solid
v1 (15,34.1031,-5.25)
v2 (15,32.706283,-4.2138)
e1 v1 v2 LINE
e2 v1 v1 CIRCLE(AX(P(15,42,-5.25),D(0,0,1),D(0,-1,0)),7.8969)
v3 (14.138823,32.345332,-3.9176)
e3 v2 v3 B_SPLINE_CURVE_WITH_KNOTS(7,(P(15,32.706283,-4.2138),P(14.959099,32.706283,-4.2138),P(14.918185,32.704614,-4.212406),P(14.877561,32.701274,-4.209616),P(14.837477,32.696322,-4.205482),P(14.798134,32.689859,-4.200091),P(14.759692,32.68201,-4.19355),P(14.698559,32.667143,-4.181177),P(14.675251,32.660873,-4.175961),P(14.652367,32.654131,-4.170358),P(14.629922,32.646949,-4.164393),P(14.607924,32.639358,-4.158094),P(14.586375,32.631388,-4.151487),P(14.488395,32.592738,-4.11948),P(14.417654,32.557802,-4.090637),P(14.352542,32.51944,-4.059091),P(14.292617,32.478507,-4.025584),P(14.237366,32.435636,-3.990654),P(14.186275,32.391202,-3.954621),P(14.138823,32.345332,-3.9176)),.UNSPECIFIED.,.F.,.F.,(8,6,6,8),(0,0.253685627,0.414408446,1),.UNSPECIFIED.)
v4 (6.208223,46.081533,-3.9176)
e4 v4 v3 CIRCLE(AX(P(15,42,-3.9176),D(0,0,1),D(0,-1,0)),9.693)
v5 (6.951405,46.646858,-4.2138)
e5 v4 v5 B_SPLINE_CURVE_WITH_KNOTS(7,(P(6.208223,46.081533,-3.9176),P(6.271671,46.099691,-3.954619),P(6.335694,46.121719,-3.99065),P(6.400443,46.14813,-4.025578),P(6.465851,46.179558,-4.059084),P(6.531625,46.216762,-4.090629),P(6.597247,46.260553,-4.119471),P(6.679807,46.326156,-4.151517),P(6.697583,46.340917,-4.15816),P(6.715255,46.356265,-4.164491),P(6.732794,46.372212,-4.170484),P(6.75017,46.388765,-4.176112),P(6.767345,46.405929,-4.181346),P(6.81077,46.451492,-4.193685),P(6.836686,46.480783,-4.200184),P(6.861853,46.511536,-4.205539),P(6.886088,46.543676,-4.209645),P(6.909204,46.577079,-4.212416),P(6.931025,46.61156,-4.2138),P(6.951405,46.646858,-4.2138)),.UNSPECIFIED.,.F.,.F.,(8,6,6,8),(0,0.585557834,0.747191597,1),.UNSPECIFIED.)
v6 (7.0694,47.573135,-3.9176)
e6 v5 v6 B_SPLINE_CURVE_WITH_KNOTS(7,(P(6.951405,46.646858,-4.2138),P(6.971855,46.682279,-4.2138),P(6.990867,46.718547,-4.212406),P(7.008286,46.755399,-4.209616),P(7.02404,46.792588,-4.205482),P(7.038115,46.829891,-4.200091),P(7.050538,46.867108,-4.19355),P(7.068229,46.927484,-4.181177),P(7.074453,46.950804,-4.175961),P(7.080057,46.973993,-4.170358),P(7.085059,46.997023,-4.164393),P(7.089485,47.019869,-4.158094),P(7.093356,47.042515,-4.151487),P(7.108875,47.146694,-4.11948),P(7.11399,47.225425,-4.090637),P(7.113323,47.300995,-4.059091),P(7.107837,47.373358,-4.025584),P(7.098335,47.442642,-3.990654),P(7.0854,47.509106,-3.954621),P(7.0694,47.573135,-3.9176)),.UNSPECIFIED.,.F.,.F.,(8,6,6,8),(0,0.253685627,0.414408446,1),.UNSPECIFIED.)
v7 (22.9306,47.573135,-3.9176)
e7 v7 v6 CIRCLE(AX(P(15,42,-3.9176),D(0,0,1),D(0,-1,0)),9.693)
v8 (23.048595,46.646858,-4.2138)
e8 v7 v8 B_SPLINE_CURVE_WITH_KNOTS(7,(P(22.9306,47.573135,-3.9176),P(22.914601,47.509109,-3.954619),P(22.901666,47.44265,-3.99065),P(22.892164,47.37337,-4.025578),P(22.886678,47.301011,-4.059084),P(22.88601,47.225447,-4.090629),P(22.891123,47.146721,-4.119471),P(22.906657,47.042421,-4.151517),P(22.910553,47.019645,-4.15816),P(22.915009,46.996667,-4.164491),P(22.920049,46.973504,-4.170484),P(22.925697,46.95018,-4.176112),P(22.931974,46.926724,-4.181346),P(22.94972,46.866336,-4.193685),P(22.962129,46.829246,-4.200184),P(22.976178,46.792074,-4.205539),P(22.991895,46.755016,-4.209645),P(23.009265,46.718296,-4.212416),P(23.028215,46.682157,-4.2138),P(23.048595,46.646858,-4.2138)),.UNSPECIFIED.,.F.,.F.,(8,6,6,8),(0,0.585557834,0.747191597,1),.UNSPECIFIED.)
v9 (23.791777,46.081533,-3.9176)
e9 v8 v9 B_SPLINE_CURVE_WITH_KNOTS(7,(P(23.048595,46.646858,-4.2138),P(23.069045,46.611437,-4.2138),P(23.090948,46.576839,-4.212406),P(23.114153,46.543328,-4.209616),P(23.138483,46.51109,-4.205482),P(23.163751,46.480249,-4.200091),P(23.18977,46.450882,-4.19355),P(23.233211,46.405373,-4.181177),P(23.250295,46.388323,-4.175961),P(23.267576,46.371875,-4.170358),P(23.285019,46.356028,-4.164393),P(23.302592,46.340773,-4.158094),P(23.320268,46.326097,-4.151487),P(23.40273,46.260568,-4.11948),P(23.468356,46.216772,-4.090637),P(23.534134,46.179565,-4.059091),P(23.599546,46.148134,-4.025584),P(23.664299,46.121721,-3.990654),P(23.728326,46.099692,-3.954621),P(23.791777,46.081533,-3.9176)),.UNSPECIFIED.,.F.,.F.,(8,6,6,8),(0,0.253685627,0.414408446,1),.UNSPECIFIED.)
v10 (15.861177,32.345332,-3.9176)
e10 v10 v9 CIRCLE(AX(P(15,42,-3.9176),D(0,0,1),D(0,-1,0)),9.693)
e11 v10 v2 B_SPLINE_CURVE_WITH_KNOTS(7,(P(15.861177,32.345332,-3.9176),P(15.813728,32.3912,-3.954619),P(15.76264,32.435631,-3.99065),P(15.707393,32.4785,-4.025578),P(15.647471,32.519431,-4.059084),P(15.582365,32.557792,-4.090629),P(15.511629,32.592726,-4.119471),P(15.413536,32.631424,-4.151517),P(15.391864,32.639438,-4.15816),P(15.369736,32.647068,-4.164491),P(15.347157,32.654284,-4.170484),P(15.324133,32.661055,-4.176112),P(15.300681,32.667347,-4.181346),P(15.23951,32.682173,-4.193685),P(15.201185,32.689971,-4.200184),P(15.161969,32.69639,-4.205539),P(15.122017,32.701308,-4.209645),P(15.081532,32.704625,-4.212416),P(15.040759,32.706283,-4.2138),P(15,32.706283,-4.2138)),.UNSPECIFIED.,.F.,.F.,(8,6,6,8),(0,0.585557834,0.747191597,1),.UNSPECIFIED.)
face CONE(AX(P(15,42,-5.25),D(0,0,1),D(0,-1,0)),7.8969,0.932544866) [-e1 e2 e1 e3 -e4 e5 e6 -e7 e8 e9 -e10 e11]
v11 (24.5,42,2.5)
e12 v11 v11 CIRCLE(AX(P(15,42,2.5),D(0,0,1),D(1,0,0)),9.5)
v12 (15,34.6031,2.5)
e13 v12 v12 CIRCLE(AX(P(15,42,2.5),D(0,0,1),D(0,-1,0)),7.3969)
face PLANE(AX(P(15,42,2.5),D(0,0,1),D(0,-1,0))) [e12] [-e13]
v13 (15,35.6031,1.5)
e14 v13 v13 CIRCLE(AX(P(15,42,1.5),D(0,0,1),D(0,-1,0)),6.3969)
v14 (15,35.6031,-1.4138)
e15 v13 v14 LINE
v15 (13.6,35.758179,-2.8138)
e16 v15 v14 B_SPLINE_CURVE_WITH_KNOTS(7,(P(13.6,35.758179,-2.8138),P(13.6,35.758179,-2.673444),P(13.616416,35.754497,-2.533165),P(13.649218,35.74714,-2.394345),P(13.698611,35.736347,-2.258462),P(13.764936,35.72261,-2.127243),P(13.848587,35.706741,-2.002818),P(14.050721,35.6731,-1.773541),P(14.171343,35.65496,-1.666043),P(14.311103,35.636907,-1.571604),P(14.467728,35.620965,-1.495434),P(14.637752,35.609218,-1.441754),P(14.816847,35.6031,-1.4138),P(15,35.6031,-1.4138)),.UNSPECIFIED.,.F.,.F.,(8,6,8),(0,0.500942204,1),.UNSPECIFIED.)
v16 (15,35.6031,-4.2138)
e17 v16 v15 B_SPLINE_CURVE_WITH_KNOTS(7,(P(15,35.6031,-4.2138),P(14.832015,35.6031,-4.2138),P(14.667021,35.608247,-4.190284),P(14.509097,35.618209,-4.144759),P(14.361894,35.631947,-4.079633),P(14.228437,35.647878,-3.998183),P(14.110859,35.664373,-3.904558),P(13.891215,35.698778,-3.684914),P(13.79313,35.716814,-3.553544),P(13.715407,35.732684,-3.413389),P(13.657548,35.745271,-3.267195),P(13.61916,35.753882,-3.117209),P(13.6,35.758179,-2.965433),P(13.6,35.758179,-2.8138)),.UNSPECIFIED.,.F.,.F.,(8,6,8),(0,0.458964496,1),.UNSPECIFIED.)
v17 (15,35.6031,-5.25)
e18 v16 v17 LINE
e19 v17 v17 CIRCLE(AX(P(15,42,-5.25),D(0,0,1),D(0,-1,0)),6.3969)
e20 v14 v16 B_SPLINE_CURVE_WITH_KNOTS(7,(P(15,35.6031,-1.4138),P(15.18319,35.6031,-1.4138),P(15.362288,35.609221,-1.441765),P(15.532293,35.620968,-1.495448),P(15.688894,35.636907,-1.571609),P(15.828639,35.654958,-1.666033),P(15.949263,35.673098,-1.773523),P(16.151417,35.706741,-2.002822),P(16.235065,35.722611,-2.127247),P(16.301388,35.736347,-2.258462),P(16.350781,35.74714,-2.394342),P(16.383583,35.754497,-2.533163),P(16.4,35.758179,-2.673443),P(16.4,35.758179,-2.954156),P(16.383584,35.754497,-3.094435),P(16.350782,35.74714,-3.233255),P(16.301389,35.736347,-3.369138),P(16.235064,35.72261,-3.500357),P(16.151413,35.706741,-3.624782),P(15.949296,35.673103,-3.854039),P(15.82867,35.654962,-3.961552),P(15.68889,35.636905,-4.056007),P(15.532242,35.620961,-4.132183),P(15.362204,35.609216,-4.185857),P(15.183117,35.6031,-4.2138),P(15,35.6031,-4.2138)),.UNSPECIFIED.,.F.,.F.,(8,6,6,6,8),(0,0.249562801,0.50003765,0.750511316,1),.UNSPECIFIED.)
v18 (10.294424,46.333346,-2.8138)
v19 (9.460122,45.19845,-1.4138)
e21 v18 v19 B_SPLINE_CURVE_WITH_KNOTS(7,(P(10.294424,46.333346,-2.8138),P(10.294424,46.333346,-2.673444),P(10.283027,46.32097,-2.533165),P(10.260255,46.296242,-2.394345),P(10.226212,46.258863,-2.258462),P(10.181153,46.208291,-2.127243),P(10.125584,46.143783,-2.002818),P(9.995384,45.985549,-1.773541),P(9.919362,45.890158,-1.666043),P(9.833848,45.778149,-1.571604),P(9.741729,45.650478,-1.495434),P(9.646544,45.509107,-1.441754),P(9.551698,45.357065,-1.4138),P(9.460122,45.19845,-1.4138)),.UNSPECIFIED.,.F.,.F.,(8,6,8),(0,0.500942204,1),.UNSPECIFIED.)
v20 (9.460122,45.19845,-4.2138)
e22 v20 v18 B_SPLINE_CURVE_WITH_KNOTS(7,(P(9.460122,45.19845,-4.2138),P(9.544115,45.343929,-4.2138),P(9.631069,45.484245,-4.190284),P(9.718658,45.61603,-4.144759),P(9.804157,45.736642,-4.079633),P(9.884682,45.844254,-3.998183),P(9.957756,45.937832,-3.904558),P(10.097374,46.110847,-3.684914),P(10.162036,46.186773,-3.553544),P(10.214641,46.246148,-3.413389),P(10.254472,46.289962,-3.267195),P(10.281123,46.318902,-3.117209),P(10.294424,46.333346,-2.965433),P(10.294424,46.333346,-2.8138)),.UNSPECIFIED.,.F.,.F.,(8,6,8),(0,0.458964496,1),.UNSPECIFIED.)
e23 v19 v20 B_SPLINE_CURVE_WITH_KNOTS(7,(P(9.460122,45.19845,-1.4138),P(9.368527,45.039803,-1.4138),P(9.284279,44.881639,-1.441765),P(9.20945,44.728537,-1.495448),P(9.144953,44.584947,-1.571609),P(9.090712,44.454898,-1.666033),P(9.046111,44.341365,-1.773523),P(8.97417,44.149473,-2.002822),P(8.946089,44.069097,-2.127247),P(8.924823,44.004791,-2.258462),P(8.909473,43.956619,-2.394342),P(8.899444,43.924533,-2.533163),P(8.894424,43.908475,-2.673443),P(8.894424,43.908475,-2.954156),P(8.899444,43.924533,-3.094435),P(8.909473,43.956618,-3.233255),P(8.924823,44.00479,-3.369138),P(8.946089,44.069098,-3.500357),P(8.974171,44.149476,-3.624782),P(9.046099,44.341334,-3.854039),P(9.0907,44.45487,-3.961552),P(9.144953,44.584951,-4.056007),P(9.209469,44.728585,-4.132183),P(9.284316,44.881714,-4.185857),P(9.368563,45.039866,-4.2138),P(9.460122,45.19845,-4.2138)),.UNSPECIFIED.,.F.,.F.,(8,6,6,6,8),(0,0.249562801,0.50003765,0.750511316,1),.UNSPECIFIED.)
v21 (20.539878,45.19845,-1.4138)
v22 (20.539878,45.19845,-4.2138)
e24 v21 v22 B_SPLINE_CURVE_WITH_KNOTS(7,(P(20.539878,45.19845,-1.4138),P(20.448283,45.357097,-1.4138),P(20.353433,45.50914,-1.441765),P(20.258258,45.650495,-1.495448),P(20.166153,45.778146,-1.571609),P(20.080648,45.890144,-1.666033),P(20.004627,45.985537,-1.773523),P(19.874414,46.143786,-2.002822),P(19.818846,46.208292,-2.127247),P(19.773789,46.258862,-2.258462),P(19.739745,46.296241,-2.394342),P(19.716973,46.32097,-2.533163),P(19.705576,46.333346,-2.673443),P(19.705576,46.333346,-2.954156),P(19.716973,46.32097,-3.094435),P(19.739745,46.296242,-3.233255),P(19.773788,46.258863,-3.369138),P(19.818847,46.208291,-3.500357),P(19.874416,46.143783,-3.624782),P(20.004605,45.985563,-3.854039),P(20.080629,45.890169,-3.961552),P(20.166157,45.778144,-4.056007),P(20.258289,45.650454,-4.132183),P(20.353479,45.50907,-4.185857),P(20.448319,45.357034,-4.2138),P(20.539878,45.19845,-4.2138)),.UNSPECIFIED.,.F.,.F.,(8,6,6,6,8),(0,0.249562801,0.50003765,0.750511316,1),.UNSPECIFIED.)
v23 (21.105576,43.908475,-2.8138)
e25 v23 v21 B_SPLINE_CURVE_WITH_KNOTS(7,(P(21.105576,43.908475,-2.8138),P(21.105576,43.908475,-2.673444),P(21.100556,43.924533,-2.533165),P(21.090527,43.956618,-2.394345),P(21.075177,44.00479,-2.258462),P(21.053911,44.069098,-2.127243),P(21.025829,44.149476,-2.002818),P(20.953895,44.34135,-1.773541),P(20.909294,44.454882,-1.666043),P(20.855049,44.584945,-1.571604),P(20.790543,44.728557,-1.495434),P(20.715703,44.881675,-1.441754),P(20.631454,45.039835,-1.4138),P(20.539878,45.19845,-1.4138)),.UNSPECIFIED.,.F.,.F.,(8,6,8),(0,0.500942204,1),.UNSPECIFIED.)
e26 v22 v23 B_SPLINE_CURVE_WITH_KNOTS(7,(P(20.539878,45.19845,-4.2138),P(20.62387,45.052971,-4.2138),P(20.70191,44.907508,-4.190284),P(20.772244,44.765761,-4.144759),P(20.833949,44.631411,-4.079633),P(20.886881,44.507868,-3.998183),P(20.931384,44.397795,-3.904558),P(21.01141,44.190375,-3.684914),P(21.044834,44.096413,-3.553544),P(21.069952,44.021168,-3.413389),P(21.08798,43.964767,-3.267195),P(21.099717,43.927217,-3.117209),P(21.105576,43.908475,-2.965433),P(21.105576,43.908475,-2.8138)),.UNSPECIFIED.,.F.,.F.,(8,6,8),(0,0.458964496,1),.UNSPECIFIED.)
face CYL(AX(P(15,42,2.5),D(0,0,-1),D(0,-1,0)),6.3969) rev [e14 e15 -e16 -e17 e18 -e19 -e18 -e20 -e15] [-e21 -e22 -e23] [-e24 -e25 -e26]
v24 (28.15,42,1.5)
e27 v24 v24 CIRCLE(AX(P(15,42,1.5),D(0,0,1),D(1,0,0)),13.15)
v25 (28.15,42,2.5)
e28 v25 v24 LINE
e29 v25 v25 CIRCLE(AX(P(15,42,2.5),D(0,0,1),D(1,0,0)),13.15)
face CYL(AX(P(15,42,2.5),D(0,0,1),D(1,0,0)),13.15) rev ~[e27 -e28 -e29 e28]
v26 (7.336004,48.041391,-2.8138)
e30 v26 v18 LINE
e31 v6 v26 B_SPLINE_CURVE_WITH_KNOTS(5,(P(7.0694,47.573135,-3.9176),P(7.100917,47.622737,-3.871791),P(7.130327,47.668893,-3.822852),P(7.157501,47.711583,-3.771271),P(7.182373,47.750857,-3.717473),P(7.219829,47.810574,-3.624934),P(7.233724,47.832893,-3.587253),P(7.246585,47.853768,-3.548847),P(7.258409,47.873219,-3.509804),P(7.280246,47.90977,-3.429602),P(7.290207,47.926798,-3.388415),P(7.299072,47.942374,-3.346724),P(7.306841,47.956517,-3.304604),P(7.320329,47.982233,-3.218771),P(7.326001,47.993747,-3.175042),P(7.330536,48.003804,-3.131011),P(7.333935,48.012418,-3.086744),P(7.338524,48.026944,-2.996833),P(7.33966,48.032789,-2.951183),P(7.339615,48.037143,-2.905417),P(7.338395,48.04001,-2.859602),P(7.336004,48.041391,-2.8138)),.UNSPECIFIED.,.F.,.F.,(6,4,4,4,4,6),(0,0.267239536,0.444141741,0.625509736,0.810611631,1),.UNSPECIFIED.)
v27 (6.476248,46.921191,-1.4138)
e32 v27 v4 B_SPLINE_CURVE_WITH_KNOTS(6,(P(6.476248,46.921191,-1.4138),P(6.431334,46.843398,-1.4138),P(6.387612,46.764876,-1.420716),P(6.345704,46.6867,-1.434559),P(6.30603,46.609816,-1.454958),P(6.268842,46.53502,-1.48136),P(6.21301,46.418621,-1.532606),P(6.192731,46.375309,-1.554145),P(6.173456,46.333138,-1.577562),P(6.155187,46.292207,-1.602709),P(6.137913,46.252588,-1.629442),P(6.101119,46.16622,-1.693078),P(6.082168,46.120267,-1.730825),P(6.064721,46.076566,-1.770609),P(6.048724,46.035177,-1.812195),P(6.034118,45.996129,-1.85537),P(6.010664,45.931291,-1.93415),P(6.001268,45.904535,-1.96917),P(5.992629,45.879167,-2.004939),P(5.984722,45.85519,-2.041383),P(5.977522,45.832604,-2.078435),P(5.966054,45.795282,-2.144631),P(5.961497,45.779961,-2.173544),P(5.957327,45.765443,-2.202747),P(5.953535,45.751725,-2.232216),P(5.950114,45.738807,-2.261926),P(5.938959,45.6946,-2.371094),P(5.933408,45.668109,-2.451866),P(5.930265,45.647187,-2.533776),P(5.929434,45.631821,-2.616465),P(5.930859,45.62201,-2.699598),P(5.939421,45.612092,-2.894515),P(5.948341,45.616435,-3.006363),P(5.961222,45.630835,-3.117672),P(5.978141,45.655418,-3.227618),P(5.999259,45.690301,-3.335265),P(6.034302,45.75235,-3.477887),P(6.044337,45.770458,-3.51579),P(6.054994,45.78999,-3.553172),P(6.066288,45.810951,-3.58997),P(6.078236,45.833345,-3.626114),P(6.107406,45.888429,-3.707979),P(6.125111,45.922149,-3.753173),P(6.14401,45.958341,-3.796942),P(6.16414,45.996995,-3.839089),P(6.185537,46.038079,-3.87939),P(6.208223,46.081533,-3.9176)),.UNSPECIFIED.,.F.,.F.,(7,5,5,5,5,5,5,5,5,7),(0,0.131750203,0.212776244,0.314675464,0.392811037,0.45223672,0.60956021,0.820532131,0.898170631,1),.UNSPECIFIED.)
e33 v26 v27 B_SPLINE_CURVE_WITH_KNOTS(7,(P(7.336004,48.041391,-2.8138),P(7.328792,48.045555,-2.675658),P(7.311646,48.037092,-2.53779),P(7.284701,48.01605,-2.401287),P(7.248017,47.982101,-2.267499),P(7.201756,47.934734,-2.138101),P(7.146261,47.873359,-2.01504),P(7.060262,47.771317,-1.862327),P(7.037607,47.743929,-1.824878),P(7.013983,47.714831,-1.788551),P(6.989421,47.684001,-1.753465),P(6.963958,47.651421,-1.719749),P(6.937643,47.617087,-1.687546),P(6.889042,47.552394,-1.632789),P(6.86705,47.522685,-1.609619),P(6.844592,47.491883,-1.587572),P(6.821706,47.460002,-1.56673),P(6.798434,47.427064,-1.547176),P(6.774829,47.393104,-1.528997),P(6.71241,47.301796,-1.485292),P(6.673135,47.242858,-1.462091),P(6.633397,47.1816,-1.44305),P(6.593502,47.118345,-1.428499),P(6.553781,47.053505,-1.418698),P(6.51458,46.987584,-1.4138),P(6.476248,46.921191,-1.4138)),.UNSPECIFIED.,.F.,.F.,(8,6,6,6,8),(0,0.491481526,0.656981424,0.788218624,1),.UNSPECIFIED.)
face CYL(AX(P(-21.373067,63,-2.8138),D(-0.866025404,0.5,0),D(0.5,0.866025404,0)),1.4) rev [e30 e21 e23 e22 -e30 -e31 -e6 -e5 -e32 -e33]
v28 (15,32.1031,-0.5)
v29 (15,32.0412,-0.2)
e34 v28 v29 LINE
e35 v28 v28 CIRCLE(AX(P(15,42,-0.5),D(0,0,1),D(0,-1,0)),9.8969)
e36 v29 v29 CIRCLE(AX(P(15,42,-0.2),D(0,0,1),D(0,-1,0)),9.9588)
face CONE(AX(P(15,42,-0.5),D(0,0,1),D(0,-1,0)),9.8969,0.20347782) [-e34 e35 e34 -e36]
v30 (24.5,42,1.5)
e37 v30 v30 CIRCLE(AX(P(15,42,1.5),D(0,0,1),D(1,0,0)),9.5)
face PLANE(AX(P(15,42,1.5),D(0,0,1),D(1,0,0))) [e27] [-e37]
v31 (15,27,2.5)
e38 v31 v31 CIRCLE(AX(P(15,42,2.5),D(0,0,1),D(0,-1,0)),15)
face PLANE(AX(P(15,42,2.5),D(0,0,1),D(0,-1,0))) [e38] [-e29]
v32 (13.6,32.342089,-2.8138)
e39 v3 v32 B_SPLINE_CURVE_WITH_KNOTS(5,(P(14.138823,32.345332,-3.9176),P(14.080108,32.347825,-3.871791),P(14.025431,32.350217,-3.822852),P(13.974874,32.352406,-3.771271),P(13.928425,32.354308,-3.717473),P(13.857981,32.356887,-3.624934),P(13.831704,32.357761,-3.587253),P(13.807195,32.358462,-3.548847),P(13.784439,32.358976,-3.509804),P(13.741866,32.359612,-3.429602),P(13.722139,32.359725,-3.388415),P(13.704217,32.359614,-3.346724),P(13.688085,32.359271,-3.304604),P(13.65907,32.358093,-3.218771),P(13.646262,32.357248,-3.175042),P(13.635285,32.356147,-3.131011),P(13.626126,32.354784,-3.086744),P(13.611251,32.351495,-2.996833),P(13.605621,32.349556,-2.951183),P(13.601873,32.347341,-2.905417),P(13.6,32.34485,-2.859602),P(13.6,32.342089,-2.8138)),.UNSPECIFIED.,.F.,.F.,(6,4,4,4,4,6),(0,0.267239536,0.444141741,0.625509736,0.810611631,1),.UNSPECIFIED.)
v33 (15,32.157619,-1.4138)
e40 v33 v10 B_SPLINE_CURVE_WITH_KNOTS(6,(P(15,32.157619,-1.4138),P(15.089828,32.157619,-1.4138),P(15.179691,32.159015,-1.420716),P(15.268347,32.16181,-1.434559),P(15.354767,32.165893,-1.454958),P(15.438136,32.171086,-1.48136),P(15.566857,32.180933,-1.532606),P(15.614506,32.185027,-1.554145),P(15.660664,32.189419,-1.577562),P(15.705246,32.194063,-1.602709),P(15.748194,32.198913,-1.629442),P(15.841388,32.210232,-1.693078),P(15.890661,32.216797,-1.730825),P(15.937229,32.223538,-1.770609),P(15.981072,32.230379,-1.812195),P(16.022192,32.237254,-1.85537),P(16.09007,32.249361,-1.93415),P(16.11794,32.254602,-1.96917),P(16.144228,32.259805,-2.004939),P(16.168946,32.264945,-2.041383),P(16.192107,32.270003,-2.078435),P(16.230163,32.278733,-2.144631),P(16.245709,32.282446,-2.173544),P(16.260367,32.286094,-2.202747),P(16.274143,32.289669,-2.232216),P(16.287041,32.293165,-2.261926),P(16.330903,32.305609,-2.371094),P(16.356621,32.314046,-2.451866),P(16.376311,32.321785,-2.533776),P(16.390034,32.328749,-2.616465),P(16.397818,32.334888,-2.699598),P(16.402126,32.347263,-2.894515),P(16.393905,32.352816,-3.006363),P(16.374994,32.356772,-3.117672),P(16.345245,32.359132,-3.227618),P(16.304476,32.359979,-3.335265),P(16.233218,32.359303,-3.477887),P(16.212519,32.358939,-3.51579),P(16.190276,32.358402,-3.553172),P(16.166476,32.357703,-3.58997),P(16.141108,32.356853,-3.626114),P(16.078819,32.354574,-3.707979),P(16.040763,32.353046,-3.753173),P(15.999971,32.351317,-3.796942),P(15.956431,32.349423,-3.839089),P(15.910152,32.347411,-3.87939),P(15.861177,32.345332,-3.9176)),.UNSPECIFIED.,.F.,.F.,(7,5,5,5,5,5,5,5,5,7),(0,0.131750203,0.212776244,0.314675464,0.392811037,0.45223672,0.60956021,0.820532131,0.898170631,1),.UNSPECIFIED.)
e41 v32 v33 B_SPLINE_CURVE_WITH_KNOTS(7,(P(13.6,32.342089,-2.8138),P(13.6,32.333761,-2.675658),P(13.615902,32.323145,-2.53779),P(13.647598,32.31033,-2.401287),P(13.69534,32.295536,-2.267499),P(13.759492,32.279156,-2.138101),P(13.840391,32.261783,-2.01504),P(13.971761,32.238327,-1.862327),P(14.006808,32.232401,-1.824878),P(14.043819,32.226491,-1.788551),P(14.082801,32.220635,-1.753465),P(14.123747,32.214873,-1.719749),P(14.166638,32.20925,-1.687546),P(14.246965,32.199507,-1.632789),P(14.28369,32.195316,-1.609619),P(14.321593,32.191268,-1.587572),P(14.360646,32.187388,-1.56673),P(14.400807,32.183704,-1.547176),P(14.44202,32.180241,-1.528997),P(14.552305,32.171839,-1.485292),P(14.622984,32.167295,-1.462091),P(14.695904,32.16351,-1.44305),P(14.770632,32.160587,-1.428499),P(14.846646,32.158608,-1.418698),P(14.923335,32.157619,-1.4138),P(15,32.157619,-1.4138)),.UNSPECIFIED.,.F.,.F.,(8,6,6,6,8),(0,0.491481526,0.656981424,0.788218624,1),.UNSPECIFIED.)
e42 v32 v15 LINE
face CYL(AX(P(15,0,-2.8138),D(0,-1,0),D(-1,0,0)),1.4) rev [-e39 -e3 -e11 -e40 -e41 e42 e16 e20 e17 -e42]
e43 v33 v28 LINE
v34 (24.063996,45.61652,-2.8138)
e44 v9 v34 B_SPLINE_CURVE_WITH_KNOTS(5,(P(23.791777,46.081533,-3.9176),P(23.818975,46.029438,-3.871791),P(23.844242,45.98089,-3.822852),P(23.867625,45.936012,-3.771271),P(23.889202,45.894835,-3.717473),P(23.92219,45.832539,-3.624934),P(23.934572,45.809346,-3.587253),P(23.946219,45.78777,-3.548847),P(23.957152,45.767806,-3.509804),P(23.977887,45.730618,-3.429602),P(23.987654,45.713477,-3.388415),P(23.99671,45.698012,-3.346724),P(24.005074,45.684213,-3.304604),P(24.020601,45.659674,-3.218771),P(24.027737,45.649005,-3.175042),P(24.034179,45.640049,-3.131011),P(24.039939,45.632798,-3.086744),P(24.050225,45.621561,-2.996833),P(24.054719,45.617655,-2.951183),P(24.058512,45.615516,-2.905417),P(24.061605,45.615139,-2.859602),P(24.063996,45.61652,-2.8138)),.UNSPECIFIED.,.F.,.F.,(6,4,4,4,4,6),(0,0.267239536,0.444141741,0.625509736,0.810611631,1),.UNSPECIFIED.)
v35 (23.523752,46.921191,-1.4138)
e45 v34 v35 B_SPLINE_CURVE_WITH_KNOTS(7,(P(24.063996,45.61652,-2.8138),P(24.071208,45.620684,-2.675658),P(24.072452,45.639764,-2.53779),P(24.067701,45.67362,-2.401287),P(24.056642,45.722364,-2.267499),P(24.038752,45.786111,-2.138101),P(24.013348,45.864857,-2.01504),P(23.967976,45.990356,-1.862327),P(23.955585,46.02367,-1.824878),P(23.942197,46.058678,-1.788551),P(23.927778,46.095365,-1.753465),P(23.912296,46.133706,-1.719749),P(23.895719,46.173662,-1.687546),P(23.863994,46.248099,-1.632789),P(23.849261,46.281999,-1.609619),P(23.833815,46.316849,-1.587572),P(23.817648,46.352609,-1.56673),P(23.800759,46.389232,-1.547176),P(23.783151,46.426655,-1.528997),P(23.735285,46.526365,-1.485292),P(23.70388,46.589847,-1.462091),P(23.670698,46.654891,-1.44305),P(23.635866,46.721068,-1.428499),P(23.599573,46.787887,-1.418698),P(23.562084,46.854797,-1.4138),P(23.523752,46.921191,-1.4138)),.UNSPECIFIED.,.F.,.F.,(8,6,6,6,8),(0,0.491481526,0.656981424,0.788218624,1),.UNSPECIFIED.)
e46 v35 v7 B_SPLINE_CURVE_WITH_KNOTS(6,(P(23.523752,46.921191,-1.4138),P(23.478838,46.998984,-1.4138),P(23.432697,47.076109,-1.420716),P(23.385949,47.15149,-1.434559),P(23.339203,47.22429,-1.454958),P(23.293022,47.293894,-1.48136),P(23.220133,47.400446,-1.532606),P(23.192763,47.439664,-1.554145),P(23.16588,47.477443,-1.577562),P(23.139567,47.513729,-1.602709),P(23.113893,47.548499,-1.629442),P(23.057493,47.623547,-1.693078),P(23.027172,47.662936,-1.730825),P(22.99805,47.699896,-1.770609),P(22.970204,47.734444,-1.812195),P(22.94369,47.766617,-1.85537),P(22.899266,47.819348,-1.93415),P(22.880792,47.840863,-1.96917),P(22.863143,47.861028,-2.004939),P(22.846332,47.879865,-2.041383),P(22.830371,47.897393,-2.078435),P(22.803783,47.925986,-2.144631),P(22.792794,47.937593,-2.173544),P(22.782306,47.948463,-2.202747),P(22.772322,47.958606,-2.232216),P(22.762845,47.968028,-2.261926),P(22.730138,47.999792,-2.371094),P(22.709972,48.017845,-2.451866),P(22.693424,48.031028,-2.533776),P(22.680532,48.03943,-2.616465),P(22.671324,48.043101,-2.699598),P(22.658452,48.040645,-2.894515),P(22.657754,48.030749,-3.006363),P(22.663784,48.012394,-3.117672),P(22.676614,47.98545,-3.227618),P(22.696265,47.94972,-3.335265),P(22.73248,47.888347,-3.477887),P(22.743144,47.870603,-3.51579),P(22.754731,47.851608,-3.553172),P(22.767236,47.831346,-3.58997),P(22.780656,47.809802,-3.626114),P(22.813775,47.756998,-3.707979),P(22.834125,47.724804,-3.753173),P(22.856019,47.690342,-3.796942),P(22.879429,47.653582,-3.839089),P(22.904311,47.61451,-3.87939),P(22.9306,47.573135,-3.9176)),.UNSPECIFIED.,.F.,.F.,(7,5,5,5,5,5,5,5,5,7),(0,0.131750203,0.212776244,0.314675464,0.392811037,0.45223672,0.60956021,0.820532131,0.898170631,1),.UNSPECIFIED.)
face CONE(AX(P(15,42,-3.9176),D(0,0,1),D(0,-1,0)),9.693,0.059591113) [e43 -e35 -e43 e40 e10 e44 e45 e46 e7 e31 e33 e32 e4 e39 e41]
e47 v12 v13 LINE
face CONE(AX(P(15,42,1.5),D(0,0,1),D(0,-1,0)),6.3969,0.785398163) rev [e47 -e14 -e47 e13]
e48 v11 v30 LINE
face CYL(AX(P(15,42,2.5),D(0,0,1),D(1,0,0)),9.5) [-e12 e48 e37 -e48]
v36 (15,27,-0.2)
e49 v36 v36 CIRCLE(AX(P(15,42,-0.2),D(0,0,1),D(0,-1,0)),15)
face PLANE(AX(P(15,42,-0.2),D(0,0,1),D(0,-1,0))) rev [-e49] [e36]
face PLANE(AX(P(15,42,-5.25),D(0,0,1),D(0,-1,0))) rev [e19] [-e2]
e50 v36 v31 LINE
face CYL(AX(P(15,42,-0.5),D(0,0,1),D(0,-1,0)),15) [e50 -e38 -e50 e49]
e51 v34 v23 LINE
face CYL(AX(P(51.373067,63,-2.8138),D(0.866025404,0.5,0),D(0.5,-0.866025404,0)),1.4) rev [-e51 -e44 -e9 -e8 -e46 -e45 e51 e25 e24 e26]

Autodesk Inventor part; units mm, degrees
ref_plane "YZ Plane" through (0, 0, 0) normal (1, 0, 0) x (0, 1, 0)
ref_plane "XZ Plane" through (0, 0, 0) normal (0, 1, 0) x (-1, 0, 0)
ref_plane "XY Plane" through (0, 0, 0) normal (0, 0, 1) x (1, 0, 0)
ref_plane "Arbeitsebene1" through (15, 0, 0) normal (-1, 0, 0) x (0, 1, 0)
sketch "Skizze1" plane through (15, 0, 0) normal (-1, 0, 0) x (0, 1, 0)
  line L0 (32.6031, 0.5) -> (30.7237, 0.5) projected
  line L1 (30.7237, 4.25) -> (32.6031, 4.25) projected
  line L2 (30.7237, 0.5) -> (30.7237, 4.25) projected
  line L3 (32.6031, 0.5) -> (30.7237, 0.5) projected
  line L4 (30.7237, 4.7) -> (32.6031, 4.7) projected
  line L5 (30.7237, 0.5) -> (30.7237, 4.25) projected
  line L6 (30, 0.5) -> (32, 0.5) projected
  line L7 (30, 0.55) -> (30, 0.5) projected
  line L8 (32, 0.5) -> (32, 0.55) projected
  line L9 (32, 0.5) -> (32, 16.1)
  line L10 (52, 0.5) -> (52, 16.1)
  line L11 (42, 19.32) -> (42, -3.22)
  line L12 (32.6031, 0.5) -> (27, 0.5)
  line L13 (27, 0.5) -> (27, -2.5)
  line L14 (27, -2.5) -> (35.6031, -2.5)
  line L15 (35.6031, -2.5) -> (35.6031, 5.25)
  line L16 (35.6031, 5.25) -> (34.1031, 5.25)
  line L17 (32.6031, 0.5) -> (32.6031, 0.2)
  line L18 (32.6031, 0.2) -> (27, 0.2)
  line L19 (32, 0.55) -> (30, 0.55) projected
  line L20 (32.1031, 0.5) -> (32.0412, 0.2)
  line L21 (27, -2.5) -> (32, -2.5)
  line L22 (32, -2.5) -> (32, -10.5)
  line L23 (32, -10.5) -> (27, -10.5)
  line L24 (27, -10.5) -> (27, -2.5)
  line L25 (34.1031, 5.25) -> (32.307, 3.9176)
  line L26 (32.307, 3.9176) -> (32.1031, 0.5)
  point P0 (0, 0)
  point P1 (32, -2.5)
  point P2 (30.7237, 0.55)
  point P3 (32, 4.25)
  dimension "d1" = 3
  dimension "d3" = 1
  dimension "d11" = 0.5
  dimension "d13" = 15
  dimension "d14" = 8
  dimension "d15" = 10
  dimension "d37" = 0.3
  dimension "d38" = 6.3969
revolve "Umdrehung1" add sketch "Skizze1" angle 360 about axis through (15, 42, -19.32) along (0, 0, 1) contours L17 L18 L20 L0 | L0 L26 L25 L16 L15 L14 L13 L18 L17
sketch "Skizze2" plane through (0, 0, 0) normal (0, 1, 0) x (-1, 0, 0)
  spline S0 degree 3 poles (-15, -4.25) (-12.1304, -4.4784) (-9.2732, -4.7067) (-7.1109, -4.9351) (-6.8554, -4.962) (-6.6095, -4.989) (-6.3738, -5.016) knots 0 0 0 0 0.7174 0.7174 0.7174 0.802142 0.802142 0.802142 0.802142 projected
  spline S1 degree 3 poles (-14.5016, -1.0897) (-11.6314, -1.3183) (-8.8183, -1.5469) (-6.7355, -1.7755) (-6.2054, -1.8336) (-5.7215, -1.8918) (-5.2918, -1.95) knots 0.041547 0.041547 0.041547 0.041547 0.759706 0.759706 0.759706 0.942478 0.942478 0.942478 0.942478 projected
  circle A0 centre (-15, -2.8138) radius 1.4
  line L0 (-15, 1.0048) -> (-15, -6.0288) projected
  point P0 (0, 0)
  dimension "d5" = 2.8
extrude "Extrusion1" cut sketch "Skizze2" along normal up to surface
pattern_circular "Runde Anordnung1" count 3 over 360 about axis through (15, 42, 1.15) along (0, 0, -1) of "Extrusion1"
chamfer "Fase1" distance 1 angle 45 1 edges at (15, 48.3969, 2.5)
sketch "Skizze6" plane through (15, 42, 2.5) normal (0, 0, 1) x (1, 0, 0)
  circle A0 centre (0, 0) radius 15 projected
  circle A1 centre (0, 0) radius 7.3969 projected
  circle A2 centre (0, 0) radius 13.15
  circle A3 centre (0, 0) radius 9.5
  point P0 (-15, -42)
  dimension "d31" = 26.3
  dimension "d39" = 19
extrude "Extrusion4" cut sketch "Skizze6" against normal blind 1 contours A2
properties part number "30_Linear_Stage_NEMA11_baseholder_bayonetmount_objective_rms_metaladapter"
